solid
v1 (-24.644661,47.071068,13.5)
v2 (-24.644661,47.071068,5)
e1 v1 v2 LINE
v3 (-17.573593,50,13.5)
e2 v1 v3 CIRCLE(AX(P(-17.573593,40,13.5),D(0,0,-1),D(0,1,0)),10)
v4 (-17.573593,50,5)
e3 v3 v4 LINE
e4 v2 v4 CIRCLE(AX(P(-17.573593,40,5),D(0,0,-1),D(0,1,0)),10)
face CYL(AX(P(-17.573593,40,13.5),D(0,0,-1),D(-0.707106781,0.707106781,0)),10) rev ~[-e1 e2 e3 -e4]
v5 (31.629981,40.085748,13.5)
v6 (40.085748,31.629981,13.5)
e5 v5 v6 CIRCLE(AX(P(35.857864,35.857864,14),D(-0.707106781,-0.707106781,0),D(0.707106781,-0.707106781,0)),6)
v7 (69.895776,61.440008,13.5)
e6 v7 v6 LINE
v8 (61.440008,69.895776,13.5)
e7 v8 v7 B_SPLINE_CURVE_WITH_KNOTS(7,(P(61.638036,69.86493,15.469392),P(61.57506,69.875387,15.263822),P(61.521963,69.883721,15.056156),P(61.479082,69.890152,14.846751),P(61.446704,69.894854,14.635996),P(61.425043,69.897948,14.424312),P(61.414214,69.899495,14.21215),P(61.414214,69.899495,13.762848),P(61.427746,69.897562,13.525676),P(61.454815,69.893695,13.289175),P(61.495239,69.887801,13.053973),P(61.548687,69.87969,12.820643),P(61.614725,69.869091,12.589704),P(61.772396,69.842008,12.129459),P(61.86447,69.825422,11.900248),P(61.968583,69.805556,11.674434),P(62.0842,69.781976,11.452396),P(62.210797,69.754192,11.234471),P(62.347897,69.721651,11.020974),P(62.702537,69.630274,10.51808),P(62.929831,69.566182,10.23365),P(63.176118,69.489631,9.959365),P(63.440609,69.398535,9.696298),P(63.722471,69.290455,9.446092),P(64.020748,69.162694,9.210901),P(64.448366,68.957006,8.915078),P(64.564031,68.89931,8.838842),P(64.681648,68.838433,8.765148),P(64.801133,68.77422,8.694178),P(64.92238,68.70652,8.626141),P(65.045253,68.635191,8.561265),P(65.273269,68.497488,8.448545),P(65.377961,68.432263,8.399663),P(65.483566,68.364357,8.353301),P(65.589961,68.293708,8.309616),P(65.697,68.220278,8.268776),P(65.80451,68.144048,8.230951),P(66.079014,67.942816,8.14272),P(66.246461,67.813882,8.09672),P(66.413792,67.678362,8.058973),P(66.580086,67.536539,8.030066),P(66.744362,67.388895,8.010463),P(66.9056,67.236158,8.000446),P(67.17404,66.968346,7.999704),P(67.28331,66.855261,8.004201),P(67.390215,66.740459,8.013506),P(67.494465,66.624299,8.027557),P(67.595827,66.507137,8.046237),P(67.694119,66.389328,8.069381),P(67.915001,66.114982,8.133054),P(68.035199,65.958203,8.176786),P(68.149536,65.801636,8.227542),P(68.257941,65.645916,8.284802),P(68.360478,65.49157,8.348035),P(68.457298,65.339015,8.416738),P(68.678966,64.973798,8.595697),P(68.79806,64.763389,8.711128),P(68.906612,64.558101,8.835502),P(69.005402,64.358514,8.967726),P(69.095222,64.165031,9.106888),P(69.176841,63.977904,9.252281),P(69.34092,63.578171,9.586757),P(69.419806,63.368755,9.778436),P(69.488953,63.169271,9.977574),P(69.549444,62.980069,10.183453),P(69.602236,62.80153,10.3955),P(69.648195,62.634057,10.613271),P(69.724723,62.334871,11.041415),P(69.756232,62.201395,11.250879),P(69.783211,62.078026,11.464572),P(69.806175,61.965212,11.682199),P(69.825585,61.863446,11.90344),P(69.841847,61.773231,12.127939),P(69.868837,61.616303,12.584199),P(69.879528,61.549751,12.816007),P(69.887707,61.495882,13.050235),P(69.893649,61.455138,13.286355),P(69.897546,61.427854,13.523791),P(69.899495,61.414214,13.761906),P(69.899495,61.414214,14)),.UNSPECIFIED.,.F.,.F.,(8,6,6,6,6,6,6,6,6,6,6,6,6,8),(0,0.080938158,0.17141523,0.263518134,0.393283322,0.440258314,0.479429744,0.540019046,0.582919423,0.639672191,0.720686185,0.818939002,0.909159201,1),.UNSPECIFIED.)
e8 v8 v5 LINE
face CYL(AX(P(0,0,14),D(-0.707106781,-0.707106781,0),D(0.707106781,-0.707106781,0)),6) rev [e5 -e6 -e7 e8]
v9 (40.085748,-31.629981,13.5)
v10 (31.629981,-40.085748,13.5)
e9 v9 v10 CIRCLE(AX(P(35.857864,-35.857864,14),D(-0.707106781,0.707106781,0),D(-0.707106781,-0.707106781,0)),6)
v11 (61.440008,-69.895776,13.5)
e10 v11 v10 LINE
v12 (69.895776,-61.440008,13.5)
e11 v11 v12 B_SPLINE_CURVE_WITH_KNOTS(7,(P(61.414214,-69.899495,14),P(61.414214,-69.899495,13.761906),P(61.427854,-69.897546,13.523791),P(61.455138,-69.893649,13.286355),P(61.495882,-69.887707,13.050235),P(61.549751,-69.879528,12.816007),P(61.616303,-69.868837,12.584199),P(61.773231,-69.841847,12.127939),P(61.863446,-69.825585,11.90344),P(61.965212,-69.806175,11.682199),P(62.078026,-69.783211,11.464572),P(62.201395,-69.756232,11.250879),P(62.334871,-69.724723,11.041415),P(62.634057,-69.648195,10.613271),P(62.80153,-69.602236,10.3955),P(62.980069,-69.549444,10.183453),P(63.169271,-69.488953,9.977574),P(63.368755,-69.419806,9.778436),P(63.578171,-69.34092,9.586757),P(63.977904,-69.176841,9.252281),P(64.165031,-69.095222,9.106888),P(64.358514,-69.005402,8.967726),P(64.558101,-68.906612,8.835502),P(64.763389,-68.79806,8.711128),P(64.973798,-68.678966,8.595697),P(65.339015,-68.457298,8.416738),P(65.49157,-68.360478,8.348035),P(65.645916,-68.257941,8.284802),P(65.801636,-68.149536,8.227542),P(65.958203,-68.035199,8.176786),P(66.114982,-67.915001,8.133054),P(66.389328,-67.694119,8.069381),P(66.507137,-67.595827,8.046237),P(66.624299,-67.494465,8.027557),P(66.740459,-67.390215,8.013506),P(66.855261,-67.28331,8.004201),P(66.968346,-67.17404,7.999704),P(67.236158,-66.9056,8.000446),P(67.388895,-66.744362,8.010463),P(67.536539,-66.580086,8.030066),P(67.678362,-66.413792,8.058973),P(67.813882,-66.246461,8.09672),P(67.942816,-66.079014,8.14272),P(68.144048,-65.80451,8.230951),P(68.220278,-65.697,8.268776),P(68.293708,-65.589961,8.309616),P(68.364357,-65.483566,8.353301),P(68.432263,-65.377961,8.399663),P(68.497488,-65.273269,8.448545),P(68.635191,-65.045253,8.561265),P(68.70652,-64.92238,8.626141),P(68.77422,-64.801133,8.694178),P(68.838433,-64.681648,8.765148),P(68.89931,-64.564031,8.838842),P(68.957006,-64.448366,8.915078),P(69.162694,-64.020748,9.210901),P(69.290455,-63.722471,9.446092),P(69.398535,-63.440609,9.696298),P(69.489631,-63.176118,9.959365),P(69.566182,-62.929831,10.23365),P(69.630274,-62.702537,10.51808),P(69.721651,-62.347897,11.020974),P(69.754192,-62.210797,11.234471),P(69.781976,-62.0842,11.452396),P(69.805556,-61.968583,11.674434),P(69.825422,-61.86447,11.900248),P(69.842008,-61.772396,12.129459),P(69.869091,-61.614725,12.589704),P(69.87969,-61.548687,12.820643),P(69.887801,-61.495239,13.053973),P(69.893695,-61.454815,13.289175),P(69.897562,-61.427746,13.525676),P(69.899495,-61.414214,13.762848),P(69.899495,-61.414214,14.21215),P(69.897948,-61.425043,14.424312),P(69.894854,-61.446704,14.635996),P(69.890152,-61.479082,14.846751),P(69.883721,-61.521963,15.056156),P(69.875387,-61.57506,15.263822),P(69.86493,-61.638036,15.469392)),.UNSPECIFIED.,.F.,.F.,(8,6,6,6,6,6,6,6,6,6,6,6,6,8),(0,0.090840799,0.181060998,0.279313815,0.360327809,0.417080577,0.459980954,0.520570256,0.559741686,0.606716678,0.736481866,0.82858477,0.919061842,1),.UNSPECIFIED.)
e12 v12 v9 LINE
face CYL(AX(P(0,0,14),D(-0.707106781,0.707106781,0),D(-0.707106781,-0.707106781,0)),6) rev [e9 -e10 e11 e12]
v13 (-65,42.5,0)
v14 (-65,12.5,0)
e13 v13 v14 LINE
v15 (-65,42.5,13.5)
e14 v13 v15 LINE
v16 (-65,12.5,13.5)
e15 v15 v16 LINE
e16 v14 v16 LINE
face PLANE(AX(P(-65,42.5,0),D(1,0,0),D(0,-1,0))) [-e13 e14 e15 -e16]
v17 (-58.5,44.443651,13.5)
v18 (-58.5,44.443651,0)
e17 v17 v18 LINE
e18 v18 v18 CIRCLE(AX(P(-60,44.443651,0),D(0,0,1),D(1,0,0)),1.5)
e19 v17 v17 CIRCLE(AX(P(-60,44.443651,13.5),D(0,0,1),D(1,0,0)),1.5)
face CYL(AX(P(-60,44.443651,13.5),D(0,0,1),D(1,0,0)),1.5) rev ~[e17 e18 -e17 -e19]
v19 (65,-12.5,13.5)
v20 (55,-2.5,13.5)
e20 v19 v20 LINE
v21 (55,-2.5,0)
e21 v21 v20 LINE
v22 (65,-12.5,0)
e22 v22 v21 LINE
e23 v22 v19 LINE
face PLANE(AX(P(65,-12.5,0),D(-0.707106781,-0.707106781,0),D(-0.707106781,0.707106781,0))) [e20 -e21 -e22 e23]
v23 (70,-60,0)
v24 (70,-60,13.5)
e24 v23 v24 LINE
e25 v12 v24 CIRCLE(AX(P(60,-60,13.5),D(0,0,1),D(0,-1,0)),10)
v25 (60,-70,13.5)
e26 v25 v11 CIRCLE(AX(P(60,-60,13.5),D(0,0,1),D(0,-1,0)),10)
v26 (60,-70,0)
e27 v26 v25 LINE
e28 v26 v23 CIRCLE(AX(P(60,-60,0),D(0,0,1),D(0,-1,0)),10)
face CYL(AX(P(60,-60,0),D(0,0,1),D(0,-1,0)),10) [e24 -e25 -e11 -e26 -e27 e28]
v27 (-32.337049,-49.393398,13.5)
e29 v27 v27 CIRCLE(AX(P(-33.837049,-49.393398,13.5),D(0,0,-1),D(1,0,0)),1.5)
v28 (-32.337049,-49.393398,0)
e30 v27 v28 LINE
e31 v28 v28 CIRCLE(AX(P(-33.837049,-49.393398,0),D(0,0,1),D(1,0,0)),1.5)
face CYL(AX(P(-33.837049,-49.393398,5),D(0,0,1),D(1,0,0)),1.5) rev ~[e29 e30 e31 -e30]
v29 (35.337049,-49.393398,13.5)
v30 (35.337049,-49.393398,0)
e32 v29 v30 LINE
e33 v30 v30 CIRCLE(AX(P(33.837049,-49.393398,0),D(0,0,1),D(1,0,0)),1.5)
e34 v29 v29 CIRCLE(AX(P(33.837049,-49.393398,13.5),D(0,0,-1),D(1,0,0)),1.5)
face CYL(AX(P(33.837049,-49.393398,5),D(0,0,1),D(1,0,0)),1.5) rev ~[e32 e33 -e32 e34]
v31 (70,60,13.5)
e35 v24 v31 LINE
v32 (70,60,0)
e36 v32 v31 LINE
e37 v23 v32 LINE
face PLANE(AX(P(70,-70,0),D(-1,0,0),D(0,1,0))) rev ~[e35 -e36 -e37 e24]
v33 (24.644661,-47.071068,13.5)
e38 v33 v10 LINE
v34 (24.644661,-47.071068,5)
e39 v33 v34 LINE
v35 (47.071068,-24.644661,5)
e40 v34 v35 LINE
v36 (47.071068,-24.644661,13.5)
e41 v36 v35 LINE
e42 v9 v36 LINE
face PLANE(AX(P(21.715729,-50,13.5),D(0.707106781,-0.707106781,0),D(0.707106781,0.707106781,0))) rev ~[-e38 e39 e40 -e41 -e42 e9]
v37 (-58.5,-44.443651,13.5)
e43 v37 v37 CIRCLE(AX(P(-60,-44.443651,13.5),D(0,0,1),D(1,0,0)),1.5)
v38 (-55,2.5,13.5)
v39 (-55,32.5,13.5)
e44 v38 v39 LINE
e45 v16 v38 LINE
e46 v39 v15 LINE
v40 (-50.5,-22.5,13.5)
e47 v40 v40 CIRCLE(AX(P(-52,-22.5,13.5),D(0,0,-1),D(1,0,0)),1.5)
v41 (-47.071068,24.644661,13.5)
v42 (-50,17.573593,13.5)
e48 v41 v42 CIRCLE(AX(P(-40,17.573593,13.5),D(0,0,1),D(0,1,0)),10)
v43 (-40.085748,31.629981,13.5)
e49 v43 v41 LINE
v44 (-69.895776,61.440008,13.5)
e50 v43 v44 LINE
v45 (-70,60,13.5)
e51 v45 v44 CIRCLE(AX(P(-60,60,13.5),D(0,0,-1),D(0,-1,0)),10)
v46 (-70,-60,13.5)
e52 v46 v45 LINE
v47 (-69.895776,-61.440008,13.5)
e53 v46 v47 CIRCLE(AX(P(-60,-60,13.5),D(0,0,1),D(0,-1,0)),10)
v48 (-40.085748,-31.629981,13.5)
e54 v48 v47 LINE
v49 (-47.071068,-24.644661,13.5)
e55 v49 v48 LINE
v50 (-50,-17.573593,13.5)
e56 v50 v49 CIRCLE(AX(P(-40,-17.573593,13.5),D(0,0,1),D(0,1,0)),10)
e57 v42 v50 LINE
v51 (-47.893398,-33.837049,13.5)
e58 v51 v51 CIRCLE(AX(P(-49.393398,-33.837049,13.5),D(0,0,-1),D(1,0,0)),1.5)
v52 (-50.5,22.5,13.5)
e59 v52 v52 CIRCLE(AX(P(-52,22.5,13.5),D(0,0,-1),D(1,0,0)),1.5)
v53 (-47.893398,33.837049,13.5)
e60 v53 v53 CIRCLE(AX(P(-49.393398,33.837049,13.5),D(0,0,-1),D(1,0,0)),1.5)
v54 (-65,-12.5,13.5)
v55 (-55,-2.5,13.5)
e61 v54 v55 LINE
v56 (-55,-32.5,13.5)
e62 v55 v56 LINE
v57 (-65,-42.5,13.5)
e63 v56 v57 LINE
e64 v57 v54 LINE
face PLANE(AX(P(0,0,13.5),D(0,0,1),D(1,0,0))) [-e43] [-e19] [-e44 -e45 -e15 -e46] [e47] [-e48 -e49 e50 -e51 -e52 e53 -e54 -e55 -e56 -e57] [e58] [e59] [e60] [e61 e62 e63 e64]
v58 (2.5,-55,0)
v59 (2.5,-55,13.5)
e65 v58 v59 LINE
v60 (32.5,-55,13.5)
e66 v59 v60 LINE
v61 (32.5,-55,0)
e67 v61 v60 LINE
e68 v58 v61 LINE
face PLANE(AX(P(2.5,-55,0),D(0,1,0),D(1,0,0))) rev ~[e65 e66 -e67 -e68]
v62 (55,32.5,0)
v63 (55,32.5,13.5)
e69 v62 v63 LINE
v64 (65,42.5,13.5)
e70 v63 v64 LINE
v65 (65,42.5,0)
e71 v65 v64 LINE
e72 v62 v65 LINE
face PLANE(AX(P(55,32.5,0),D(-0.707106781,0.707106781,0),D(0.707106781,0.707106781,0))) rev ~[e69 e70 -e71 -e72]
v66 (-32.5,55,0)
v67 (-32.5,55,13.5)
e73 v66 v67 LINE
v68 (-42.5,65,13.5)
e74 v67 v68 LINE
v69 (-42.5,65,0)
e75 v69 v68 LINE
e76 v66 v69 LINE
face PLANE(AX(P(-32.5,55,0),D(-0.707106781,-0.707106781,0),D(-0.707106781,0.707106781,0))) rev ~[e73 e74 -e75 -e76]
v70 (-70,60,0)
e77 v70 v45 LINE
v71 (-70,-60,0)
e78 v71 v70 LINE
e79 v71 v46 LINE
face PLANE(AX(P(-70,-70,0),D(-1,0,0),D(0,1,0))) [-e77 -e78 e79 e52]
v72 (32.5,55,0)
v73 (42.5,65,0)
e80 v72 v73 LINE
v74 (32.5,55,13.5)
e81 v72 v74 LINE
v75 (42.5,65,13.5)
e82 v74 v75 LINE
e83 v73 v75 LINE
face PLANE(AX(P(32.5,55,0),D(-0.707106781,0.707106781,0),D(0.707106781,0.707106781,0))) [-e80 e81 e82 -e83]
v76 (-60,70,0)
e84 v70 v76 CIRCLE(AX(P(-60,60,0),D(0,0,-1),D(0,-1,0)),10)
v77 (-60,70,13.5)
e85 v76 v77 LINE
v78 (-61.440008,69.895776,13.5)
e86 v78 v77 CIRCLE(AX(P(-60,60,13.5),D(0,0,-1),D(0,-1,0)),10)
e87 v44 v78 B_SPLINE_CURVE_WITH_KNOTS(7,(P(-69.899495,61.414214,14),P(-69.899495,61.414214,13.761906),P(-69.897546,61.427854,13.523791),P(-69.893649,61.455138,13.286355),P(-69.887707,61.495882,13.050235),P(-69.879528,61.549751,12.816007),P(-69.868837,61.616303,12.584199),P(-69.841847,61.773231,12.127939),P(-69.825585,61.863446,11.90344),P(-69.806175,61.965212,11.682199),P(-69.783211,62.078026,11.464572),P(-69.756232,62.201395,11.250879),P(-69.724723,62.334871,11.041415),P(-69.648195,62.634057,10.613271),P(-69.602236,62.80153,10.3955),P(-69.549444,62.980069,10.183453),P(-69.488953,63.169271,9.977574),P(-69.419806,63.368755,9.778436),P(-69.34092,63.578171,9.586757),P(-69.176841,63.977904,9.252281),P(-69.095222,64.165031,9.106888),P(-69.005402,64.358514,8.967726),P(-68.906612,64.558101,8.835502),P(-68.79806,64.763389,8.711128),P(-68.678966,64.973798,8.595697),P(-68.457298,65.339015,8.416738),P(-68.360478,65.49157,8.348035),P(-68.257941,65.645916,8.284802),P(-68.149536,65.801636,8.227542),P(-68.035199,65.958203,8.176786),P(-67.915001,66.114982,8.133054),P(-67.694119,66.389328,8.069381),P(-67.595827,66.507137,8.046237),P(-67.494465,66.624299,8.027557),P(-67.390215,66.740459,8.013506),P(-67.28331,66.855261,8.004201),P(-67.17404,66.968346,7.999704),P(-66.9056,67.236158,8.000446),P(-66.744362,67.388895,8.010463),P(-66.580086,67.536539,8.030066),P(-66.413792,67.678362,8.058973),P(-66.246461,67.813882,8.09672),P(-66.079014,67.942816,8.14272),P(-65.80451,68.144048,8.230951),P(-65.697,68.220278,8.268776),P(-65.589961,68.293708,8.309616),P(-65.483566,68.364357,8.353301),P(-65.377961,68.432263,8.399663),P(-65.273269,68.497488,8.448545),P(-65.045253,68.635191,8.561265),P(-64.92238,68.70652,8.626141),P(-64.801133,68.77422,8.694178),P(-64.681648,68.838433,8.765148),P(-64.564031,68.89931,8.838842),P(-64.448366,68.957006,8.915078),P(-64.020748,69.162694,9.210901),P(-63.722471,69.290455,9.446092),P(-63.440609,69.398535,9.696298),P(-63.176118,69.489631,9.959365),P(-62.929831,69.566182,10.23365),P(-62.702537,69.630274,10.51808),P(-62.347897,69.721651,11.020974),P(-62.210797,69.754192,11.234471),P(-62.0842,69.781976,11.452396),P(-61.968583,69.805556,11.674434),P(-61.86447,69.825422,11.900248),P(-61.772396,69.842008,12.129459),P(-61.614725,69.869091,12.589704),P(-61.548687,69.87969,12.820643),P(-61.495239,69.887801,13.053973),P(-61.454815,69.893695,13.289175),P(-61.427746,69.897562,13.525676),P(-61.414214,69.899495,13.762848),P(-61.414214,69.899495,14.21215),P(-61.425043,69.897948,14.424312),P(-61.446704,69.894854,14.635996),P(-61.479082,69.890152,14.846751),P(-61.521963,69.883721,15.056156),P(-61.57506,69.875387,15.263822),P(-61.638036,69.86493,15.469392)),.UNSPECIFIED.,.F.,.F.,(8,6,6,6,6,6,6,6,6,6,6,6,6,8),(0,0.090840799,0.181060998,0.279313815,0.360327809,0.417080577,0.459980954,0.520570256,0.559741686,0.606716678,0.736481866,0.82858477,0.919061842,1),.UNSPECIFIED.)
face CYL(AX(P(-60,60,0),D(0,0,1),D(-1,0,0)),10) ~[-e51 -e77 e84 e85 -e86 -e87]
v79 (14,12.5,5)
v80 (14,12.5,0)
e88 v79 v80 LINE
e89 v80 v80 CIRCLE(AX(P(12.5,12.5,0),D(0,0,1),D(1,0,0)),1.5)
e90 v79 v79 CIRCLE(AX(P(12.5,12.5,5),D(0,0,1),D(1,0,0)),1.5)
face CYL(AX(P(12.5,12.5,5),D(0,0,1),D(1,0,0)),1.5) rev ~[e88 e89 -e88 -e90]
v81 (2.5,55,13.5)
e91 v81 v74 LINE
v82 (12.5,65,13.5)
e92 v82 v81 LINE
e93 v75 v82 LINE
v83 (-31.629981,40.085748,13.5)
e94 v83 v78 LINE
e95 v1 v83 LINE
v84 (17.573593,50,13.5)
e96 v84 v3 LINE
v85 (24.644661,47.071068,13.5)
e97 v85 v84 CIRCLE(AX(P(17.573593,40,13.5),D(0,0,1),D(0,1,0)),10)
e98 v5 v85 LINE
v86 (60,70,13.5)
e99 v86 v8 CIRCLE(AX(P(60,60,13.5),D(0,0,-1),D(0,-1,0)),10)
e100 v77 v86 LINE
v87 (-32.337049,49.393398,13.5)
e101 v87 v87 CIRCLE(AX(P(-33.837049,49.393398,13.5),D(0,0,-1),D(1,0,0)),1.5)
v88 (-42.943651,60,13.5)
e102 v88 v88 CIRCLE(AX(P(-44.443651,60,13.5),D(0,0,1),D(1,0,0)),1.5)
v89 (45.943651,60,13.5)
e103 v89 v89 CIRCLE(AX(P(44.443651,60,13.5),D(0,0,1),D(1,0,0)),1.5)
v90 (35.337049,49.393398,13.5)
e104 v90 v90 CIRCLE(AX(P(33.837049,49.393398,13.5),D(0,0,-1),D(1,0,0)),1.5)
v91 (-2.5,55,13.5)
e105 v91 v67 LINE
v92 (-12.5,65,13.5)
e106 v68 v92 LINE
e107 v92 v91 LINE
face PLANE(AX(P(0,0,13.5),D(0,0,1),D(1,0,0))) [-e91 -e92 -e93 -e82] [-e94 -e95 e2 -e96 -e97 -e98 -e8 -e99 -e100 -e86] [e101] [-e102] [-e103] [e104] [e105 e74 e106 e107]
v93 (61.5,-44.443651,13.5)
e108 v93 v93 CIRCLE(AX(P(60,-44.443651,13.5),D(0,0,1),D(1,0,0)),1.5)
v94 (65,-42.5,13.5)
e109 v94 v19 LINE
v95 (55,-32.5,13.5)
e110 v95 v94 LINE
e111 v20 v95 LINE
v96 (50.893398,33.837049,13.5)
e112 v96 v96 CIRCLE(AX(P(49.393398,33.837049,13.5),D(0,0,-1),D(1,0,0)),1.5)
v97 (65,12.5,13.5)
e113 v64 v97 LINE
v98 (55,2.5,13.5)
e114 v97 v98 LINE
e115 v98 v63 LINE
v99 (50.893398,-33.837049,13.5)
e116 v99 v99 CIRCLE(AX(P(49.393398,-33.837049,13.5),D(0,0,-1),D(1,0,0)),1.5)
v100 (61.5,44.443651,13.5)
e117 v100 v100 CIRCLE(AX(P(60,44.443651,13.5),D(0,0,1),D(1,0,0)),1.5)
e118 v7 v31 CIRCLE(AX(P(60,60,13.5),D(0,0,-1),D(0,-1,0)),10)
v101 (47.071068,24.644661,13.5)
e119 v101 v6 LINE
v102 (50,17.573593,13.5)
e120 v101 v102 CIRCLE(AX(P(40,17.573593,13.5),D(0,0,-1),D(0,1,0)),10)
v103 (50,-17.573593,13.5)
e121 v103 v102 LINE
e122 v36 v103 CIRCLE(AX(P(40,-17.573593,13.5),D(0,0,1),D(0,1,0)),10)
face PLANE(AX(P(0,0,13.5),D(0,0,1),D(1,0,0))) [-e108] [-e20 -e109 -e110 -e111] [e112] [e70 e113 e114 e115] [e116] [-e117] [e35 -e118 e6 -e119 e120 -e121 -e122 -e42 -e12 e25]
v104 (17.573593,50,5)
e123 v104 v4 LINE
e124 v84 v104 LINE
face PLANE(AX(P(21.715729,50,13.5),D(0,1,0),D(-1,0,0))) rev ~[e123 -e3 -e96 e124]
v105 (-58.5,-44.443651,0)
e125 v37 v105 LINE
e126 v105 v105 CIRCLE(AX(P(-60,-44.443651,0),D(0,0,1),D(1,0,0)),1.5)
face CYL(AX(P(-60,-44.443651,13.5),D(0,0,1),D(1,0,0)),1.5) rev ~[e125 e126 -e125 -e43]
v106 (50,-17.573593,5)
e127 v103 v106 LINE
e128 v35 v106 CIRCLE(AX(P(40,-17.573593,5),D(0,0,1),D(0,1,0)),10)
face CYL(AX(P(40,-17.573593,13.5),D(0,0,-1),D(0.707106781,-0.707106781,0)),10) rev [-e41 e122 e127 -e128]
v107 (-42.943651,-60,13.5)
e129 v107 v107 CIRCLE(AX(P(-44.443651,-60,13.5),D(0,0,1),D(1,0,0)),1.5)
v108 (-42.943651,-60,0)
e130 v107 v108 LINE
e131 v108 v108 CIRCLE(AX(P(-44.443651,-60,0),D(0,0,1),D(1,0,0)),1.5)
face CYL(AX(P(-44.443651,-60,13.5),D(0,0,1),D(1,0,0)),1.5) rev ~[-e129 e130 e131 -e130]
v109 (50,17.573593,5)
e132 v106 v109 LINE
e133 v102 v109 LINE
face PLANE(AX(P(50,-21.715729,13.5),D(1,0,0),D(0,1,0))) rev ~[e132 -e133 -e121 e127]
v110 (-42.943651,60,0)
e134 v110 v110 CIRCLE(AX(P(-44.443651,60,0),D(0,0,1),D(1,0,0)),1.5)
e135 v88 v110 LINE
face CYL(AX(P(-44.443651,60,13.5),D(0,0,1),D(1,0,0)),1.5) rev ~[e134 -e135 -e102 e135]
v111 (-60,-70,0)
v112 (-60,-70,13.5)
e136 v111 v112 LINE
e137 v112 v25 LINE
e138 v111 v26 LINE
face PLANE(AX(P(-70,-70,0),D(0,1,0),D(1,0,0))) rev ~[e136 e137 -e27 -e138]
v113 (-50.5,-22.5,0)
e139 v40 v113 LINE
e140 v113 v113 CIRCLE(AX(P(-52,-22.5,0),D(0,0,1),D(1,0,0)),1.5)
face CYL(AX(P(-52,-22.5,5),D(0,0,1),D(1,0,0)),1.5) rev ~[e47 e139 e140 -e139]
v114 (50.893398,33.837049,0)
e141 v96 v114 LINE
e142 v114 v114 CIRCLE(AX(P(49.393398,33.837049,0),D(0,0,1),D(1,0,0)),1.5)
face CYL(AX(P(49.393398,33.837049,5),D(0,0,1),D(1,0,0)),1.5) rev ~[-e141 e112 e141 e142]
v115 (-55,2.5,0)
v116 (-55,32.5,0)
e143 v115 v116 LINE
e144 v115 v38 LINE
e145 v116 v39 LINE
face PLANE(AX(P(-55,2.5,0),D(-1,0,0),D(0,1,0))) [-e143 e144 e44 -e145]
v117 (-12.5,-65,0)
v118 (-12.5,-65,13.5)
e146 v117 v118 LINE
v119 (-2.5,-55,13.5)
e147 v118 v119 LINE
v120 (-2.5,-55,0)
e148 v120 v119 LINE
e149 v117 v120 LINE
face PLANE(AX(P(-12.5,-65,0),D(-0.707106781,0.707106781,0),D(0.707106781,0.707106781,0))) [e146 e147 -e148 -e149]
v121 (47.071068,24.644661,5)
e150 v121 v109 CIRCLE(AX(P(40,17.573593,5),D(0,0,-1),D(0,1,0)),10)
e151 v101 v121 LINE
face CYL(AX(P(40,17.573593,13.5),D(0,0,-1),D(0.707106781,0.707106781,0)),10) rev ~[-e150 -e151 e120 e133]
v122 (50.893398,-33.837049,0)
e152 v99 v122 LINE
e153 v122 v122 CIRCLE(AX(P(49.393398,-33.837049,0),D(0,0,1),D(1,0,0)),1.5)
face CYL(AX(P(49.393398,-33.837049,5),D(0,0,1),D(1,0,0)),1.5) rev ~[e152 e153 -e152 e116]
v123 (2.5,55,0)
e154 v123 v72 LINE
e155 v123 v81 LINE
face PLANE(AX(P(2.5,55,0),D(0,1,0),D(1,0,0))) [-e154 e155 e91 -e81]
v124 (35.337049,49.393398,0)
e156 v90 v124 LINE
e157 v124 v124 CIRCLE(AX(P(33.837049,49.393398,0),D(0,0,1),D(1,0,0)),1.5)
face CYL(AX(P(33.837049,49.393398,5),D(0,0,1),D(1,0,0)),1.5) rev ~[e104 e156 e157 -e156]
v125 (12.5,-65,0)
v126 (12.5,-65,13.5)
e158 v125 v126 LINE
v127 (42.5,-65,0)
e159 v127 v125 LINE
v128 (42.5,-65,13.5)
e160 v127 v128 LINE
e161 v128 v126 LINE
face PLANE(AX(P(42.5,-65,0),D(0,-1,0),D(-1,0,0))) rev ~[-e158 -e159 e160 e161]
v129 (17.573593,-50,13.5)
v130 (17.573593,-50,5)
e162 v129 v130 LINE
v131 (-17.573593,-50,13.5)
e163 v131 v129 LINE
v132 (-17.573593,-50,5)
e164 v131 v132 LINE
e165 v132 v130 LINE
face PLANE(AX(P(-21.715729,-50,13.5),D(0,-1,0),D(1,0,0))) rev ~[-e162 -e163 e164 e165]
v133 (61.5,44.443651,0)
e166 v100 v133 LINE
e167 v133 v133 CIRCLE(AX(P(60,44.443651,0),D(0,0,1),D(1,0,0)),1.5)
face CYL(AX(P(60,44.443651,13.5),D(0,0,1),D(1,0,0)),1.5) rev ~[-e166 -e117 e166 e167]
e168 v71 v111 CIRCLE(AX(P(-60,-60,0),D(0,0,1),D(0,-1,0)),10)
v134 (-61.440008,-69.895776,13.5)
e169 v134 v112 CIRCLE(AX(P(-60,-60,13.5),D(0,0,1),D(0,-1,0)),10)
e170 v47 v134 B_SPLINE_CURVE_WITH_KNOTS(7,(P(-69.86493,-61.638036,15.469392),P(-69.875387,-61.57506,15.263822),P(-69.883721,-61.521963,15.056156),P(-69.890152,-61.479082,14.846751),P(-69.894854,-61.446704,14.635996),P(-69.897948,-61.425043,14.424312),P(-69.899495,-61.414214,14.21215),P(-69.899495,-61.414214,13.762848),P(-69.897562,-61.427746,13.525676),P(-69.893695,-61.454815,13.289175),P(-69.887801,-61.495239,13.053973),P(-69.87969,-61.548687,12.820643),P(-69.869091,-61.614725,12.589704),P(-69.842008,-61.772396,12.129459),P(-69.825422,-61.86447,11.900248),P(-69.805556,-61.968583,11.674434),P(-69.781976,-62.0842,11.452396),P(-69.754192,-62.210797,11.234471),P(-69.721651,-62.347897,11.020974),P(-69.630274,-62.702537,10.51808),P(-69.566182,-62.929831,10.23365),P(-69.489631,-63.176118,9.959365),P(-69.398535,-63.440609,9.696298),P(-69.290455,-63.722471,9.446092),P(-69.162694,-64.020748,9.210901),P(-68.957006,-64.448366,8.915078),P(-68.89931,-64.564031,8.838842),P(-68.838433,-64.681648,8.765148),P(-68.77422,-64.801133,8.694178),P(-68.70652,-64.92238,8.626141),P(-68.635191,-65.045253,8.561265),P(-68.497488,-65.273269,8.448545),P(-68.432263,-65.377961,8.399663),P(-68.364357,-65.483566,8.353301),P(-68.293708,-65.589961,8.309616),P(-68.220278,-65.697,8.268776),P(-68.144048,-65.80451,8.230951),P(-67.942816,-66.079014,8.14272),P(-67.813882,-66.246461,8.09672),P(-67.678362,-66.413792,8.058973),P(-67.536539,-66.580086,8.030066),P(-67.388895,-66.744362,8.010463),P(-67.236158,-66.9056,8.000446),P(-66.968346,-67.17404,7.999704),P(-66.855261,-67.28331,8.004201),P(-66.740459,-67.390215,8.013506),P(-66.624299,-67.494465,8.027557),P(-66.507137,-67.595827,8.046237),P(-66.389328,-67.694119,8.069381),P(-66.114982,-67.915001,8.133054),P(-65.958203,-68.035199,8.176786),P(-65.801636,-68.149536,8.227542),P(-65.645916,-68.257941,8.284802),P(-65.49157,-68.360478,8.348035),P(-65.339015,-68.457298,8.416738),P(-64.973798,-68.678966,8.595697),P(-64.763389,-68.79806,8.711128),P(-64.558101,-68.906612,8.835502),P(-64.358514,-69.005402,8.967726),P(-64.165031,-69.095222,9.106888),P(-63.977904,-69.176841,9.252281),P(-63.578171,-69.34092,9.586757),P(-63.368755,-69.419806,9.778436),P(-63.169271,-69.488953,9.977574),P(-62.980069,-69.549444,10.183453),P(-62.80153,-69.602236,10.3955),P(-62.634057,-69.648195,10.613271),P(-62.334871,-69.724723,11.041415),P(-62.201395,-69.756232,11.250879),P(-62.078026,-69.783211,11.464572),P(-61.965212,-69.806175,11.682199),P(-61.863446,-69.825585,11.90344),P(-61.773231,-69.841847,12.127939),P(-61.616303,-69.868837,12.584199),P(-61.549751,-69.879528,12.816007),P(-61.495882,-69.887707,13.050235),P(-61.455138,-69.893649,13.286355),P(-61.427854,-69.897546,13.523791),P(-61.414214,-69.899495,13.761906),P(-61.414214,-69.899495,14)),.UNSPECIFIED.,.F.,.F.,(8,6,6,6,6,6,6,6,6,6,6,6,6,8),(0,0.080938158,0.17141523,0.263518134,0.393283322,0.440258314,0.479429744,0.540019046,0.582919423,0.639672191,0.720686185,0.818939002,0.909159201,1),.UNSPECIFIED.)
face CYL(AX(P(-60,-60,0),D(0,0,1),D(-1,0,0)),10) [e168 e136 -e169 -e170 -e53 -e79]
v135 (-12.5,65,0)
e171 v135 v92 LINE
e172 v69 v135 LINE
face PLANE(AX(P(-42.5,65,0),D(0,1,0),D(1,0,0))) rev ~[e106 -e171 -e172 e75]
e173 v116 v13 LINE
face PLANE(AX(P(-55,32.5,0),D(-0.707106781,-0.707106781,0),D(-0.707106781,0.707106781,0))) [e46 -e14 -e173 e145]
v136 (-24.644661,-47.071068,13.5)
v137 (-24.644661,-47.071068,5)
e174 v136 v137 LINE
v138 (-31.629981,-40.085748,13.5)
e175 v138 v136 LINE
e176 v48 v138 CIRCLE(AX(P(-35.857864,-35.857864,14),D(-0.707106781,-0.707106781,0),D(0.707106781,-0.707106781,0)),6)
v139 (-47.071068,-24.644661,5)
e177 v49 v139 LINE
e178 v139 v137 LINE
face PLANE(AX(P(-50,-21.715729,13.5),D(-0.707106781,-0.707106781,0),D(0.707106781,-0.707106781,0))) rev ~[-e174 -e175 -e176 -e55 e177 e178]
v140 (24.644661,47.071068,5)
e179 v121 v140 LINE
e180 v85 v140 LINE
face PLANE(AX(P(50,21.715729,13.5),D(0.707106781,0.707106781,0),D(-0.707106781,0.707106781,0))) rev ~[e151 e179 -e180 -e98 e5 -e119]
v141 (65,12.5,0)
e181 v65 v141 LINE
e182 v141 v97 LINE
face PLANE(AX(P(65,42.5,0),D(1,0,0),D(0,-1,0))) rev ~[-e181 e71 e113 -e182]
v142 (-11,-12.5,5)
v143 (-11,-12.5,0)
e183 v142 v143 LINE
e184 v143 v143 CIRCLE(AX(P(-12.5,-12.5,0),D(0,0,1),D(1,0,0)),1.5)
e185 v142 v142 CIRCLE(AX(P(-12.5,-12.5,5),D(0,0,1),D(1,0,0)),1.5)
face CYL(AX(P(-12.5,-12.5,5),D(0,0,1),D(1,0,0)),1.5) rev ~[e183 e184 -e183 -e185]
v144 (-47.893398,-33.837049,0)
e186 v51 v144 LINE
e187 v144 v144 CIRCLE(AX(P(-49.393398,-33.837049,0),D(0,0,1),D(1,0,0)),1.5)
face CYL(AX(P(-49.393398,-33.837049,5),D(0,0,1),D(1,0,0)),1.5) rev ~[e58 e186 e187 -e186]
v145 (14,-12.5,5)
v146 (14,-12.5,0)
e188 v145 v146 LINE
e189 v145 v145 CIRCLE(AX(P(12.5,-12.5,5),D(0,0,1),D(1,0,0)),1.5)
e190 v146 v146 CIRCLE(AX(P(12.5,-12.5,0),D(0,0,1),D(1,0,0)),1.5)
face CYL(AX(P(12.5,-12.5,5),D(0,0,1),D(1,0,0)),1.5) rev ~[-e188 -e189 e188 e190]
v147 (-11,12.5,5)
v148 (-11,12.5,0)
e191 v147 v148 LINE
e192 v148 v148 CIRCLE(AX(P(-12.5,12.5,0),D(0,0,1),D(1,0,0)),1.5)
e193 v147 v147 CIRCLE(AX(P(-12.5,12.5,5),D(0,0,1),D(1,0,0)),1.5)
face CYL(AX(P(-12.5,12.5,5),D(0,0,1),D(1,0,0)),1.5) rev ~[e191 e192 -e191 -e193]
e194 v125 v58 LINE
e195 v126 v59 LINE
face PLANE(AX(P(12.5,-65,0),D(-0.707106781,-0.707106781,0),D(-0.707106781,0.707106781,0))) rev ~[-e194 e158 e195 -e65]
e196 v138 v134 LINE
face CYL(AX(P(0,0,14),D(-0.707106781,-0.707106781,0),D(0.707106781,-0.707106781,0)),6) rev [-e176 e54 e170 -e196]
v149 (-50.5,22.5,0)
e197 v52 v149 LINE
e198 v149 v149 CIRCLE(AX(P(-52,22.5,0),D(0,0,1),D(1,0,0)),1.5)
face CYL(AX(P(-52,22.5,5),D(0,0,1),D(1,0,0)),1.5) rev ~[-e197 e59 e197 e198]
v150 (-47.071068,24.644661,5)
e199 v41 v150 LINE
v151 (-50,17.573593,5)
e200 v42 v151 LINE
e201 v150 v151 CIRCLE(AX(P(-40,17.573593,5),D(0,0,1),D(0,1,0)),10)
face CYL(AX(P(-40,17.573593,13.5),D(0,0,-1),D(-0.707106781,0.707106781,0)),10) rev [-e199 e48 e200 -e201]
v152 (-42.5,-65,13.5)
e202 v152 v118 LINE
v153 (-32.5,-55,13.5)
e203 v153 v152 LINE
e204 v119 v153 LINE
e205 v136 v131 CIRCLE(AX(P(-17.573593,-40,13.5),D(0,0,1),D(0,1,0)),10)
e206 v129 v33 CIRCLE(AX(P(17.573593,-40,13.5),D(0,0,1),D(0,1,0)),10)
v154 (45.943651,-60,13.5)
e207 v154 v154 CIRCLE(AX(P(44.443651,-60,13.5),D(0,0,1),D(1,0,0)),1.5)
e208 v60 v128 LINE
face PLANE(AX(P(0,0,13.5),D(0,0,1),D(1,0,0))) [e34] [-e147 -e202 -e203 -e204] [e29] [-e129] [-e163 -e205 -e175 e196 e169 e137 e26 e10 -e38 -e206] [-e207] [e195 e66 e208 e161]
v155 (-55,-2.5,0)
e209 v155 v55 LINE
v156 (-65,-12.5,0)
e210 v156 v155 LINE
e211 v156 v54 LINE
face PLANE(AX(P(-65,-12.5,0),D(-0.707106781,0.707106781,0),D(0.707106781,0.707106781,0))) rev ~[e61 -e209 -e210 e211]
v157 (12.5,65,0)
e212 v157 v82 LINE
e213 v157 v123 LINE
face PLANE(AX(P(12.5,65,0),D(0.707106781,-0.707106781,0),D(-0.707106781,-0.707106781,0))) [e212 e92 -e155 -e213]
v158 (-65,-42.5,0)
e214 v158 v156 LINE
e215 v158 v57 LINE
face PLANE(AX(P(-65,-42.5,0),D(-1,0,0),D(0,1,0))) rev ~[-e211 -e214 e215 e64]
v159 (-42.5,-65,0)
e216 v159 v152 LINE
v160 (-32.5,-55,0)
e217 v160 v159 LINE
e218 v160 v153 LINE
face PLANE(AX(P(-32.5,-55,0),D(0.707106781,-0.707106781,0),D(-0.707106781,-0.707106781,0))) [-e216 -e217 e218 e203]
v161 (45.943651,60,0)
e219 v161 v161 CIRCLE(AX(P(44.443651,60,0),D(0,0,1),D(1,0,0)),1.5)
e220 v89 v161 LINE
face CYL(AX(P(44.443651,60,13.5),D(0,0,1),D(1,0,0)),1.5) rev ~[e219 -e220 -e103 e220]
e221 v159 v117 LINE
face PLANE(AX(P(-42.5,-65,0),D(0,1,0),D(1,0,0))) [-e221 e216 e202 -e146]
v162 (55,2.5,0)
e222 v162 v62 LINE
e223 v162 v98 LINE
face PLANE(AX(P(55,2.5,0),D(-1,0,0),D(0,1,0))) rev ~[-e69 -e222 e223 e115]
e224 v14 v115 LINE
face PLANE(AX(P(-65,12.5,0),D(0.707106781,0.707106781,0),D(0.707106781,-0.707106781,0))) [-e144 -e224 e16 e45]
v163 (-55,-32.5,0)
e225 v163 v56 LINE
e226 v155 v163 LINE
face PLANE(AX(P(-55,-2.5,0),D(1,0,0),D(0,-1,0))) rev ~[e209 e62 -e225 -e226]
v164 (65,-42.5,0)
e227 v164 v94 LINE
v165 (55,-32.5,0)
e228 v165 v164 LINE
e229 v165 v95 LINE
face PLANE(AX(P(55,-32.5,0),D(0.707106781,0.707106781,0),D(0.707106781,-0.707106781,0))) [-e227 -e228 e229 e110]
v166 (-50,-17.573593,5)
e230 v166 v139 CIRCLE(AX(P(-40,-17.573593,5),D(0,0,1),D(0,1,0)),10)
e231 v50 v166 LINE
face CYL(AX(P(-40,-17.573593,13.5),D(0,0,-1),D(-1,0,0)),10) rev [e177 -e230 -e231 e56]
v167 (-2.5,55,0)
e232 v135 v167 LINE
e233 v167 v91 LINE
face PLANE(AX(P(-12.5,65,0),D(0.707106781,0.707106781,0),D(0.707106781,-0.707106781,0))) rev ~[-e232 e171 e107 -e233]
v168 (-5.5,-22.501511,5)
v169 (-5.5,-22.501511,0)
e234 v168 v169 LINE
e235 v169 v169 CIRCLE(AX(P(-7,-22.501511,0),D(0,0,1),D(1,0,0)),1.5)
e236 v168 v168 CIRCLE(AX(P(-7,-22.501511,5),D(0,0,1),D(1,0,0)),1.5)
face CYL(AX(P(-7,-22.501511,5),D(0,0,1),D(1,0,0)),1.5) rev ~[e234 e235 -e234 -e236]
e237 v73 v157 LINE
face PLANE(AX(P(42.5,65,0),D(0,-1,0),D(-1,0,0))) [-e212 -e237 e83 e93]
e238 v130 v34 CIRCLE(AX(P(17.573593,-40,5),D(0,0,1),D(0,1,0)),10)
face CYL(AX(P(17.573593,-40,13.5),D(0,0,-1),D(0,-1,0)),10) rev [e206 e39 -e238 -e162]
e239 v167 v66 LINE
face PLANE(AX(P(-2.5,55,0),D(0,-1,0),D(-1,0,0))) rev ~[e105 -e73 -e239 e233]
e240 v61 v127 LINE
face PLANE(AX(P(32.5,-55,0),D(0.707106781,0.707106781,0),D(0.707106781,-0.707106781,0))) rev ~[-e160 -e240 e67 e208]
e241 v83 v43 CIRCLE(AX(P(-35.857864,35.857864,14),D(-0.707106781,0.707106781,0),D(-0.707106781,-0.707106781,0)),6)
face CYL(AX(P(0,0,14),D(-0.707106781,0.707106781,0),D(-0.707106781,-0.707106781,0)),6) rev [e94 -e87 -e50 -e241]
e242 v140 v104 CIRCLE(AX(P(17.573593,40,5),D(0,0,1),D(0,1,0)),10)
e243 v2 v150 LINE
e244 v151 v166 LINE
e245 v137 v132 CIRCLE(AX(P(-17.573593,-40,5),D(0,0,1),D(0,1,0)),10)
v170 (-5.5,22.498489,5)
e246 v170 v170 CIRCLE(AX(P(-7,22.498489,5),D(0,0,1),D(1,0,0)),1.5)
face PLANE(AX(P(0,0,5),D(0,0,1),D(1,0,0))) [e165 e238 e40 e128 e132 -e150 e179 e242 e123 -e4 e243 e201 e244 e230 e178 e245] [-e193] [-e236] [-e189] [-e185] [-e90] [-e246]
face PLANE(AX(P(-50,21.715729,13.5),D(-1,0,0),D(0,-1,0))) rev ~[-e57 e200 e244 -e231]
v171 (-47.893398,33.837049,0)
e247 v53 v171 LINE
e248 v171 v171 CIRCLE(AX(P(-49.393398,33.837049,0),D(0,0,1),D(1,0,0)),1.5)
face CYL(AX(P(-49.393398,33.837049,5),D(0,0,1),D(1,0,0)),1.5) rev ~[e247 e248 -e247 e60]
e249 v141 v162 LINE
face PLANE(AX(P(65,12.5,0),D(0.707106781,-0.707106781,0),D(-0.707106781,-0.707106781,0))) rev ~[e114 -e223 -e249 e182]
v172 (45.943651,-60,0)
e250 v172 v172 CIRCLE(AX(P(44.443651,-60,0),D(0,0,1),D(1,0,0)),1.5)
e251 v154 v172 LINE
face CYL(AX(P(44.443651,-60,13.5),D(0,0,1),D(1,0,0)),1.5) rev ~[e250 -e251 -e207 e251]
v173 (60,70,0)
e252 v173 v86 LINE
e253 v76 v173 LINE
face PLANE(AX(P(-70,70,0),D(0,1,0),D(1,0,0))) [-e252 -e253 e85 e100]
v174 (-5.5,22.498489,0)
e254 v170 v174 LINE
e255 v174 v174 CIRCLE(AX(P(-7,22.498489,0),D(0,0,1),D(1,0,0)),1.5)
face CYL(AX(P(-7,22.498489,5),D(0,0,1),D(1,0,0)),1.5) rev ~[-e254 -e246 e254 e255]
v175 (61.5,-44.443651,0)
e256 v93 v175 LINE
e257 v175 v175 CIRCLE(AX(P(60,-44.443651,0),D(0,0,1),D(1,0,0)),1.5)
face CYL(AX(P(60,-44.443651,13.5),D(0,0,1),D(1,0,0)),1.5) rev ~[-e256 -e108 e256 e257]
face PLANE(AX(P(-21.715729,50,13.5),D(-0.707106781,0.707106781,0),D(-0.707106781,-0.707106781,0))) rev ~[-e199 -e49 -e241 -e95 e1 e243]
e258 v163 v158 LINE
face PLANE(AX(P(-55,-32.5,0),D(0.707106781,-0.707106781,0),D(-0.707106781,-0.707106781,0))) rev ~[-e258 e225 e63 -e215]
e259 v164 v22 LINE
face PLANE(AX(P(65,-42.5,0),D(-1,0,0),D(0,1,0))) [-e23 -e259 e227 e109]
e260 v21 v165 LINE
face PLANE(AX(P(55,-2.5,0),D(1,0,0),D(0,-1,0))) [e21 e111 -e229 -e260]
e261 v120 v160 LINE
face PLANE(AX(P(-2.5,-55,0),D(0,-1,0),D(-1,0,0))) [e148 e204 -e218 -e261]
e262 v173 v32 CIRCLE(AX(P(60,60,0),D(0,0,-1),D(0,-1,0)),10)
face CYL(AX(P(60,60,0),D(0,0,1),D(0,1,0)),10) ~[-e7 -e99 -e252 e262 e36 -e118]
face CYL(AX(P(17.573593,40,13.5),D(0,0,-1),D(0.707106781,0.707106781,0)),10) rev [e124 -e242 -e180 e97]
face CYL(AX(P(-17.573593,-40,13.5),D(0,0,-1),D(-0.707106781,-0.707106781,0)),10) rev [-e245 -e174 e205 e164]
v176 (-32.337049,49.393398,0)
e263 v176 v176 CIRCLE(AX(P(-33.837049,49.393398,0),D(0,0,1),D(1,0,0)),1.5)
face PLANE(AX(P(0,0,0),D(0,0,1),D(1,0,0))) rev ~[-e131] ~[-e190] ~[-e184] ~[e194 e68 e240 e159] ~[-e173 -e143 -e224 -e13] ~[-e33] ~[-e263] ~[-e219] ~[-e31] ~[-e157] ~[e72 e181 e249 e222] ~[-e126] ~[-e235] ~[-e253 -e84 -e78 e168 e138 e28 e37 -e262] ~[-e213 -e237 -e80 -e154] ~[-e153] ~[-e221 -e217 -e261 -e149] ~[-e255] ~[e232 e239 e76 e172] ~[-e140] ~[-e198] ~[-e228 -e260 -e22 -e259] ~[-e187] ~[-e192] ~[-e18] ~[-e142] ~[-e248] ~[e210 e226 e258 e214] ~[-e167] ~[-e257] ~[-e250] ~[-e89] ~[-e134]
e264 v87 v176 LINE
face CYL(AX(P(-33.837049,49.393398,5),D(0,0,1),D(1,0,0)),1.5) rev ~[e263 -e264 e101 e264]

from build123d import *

# Parameters (mm, degrees)
ESQUISSE1_W                  = 140
ESQUISSE1_H                  = 140
BOSS_EXTRU_1_DEPTH           = 13.5
ENL_V_MAT_EXTRU_3_DEPTH      = 8.5
ENL_V_MAT_EXTRU_1_DEPTH      = 100
R_P_TITION_CIRCULAIRE1_COUNT = 2
R_P_TITION_CIRCULAIRE1_ANGLE = 90
CONG_1_R                     = 10
ESQUISSE3_R                  = 1.5
ENL_V_MAT_EXTRU_2_DEPTH      = 13.5
ENL_V_MAT_EXTRU_4_DEPTH      = 10
ENL_V_MAT_EXTRU_4_DEPTH_BACK = 12.5
ESQUISSE5_R                  = 1.5


with BuildPart() as part:
    # Esquisse1 → Boss.-Extru.1 (new body)
    with BuildSketch(Plane.XY):
        Rectangle(ESQUISSE1_W, ESQUISSE1_H)
        Polygon((65, 12.5), (55, 2.5), (55, 32.5), (65, 42.5), align=None, mode=Mode.SUBTRACT)
        Polygon((65, -12.5), (55, -2.5), (55, -32.5), (65, -42.5), align=None, mode=Mode.SUBTRACT)
        Polygon((12.5, -65), (2.5, -55), (32.5, -55), (42.5, -65), align=None, mode=Mode.SUBTRACT)
        Polygon((-12.5, -65), (-2.5, -55), (-32.5, -55), (-42.5, -65), align=None, mode=Mode.SUBTRACT)
        Polygon((-65, -12.5), (-55, -2.5), (-55, -32.5), (-65, -42.5), align=None, mode=Mode.SUBTRACT)
        Polygon((-65, 12.5), (-55, 2.5), (-55, 32.5), (-65, 42.5), align=None, mode=Mode.SUBTRACT)
        Polygon((-12.5, 65), (-2.5, 55), (-32.5, 55), (-42.5, 65), align=None, mode=Mode.SUBTRACT)
        Polygon((12.5, 65), (2.5, 55), (32.5, 55), (42.5, 65), align=None, mode=Mode.SUBTRACT)
    extrude(amount=BOSS_EXTRU_1_DEPTH)

    # Esquisse4 → Enlèv. mat.-Extru.3 (cut)
    with BuildSketch(Plane.XY.offset(13.5)):
        Polygon((-21.715728753, 50), (-50, 21.715728753), (-50, -21.715728753), (-21.715728753, -50), (21.715728753, -50), (50, -21.715728753), (50, 21.715728753), (21.715728753, 50), align=None)
    extrude(amount=-ENL_V_MAT_EXTRU_3_DEPTH, mode=Mode.SUBTRACT)

    # Esquisse2 → Enlèv. mat.-Extru.1 (cut, symmetric)
    with BuildSketch(Plane(origin=(0, 0, 0), x_dir=(-0.7071067811865475, -0.7071067811865477, 0), z_dir=(-0.7071067811865477, 0.7071067811865475, 0))):
        with BuildLine():
            Line((-6, 14), (6, 14))
            ThreePointArc((6, 14), (0, 8), (-6, 14))
        make_face()
    enl_v_mat_extru_1 = extrude(amount=ENL_V_MAT_EXTRU_1_DEPTH, both=True, mode=Mode.SUBTRACT)

    # Répétition circulaire1: Enlèv. mat.-Extru.1 ×2 about axis
    r_p_tition_circulaire1_axis = Axis((0, 0, -62.841973852), (0, 0, 1))
    for i in range(1, R_P_TITION_CIRCULAIRE1_COUNT):
        add(enl_v_mat_extru_1.rotate(r_p_tition_circulaire1_axis, i * R_P_TITION_CIRCULAIRE1_ANGLE / (R_P_TITION_CIRCULAIRE1_COUNT - 1)), mode=Mode.SUBTRACT)

    # Congé1
    cong_1_edges = [part.edges().sort_by_distance(p)[0] for p in [
        (-70, 70, 4),
        (-70, -70, 4),
        (70, 70, 4),
        (70, -70, 4),
        (-21.715728753, -50, 9.25),
        (21.715728753, -50, 9.25),
        (50, -21.715728753, 9.25),
        (50, 21.715728753, 9.25),
        (21.715728753, 50, 9.25),
        (-21.715728753, 50, 9.25),
        (-50, -21.715728753, 9.25),
        (-50, 21.715728753, 9.25),
    ]]
    fillet(cong_1_edges, radius=CONG_1_R)

    # Esquisse3 → Enlèv. mat.-Extru.2 (cut)
    with BuildSketch(Plane.XY.offset(13.5)):
        with Locations((-60, -44.443650814)):
            Circle(ESQUISSE3_R)
        with Locations((-44.443650814, -60)):
            Circle(ESQUISSE3_R)
        with Locations((-44.443650814, 60)):
            Circle(ESQUISSE3_R)
        with Locations((-60, 44.443650814)):
            Circle(ESQUISSE3_R)
        with Locations((60, 44.443650814)):
            Circle(ESQUISSE3_R)
        with Locations((44.443650814, 60)):
            Circle(ESQUISSE3_R)
        with Locations((44.443650814, -60)):
            Circle(ESQUISSE3_R)
        with Locations((60, -44.443650814)):
            Circle(ESQUISSE3_R)
    extrude(amount=-ENL_V_MAT_EXTRU_2_DEPTH, mode=Mode.SUBTRACT)

    # Esquisse5 → Enlèv. mat.-Extru.4 (cut, two sides: drawn at the far end of the back side and taken through both)
    with BuildSketch(Plane.XY.offset(5).offset(-ENL_V_MAT_EXTRU_4_DEPTH_BACK)):
        with Locations((-52, 22.5)):
            Circle(ESQUISSE5_R)
        with Locations((-7.000000025, 22.498488866)):
            Circle(ESQUISSE5_R)
        with Locations((-52.000000025, -22.5)):
            Circle(ESQUISSE5_R)
        with Locations((-7.000000025, -22.501511134)):
            Circle(ESQUISSE5_R)
        with Locations((-12.5, 12.5)):
            Circle(ESQUISSE5_R)
        with Locations((12.5, 12.5)):
            Circle(ESQUISSE5_R)
        with Locations((12.5, -12.5)):
            Circle(ESQUISSE5_R)
        with Locations((-12.5, -12.5)):
            Circle(ESQUISSE5_R)
        with Locations((33.837049096, 49.393398282)):
            Circle(ESQUISSE5_R)
        with Locations((49.393398282, 33.837049096)):
            Circle(ESQUISSE5_R)
        with Locations((49.393398282, -33.837049096)):
            Circle(ESQUISSE5_R)
        with Locations((33.837049096, -49.393398282)):
            Circle(ESQUISSE5_R)
        with Locations((-33.837049096, -49.393398282)):
            Circle(ESQUISSE5_R)
        with Locations((-49.393398282, -33.837049096)):
            Circle(ESQUISSE5_R)
        with Locations((-49.393398282, 33.837049096)):
            Circle(ESQUISSE5_R)
        with Locations((-33.837049096, 49.393398282)):
            Circle(ESQUISSE5_R)
    extrude(amount=ENL_V_MAT_EXTRU_4_DEPTH + ENL_V_MAT_EXTRU_4_DEPTH_BACK, mode=Mode.SUBTRACT)


solid = part.part
